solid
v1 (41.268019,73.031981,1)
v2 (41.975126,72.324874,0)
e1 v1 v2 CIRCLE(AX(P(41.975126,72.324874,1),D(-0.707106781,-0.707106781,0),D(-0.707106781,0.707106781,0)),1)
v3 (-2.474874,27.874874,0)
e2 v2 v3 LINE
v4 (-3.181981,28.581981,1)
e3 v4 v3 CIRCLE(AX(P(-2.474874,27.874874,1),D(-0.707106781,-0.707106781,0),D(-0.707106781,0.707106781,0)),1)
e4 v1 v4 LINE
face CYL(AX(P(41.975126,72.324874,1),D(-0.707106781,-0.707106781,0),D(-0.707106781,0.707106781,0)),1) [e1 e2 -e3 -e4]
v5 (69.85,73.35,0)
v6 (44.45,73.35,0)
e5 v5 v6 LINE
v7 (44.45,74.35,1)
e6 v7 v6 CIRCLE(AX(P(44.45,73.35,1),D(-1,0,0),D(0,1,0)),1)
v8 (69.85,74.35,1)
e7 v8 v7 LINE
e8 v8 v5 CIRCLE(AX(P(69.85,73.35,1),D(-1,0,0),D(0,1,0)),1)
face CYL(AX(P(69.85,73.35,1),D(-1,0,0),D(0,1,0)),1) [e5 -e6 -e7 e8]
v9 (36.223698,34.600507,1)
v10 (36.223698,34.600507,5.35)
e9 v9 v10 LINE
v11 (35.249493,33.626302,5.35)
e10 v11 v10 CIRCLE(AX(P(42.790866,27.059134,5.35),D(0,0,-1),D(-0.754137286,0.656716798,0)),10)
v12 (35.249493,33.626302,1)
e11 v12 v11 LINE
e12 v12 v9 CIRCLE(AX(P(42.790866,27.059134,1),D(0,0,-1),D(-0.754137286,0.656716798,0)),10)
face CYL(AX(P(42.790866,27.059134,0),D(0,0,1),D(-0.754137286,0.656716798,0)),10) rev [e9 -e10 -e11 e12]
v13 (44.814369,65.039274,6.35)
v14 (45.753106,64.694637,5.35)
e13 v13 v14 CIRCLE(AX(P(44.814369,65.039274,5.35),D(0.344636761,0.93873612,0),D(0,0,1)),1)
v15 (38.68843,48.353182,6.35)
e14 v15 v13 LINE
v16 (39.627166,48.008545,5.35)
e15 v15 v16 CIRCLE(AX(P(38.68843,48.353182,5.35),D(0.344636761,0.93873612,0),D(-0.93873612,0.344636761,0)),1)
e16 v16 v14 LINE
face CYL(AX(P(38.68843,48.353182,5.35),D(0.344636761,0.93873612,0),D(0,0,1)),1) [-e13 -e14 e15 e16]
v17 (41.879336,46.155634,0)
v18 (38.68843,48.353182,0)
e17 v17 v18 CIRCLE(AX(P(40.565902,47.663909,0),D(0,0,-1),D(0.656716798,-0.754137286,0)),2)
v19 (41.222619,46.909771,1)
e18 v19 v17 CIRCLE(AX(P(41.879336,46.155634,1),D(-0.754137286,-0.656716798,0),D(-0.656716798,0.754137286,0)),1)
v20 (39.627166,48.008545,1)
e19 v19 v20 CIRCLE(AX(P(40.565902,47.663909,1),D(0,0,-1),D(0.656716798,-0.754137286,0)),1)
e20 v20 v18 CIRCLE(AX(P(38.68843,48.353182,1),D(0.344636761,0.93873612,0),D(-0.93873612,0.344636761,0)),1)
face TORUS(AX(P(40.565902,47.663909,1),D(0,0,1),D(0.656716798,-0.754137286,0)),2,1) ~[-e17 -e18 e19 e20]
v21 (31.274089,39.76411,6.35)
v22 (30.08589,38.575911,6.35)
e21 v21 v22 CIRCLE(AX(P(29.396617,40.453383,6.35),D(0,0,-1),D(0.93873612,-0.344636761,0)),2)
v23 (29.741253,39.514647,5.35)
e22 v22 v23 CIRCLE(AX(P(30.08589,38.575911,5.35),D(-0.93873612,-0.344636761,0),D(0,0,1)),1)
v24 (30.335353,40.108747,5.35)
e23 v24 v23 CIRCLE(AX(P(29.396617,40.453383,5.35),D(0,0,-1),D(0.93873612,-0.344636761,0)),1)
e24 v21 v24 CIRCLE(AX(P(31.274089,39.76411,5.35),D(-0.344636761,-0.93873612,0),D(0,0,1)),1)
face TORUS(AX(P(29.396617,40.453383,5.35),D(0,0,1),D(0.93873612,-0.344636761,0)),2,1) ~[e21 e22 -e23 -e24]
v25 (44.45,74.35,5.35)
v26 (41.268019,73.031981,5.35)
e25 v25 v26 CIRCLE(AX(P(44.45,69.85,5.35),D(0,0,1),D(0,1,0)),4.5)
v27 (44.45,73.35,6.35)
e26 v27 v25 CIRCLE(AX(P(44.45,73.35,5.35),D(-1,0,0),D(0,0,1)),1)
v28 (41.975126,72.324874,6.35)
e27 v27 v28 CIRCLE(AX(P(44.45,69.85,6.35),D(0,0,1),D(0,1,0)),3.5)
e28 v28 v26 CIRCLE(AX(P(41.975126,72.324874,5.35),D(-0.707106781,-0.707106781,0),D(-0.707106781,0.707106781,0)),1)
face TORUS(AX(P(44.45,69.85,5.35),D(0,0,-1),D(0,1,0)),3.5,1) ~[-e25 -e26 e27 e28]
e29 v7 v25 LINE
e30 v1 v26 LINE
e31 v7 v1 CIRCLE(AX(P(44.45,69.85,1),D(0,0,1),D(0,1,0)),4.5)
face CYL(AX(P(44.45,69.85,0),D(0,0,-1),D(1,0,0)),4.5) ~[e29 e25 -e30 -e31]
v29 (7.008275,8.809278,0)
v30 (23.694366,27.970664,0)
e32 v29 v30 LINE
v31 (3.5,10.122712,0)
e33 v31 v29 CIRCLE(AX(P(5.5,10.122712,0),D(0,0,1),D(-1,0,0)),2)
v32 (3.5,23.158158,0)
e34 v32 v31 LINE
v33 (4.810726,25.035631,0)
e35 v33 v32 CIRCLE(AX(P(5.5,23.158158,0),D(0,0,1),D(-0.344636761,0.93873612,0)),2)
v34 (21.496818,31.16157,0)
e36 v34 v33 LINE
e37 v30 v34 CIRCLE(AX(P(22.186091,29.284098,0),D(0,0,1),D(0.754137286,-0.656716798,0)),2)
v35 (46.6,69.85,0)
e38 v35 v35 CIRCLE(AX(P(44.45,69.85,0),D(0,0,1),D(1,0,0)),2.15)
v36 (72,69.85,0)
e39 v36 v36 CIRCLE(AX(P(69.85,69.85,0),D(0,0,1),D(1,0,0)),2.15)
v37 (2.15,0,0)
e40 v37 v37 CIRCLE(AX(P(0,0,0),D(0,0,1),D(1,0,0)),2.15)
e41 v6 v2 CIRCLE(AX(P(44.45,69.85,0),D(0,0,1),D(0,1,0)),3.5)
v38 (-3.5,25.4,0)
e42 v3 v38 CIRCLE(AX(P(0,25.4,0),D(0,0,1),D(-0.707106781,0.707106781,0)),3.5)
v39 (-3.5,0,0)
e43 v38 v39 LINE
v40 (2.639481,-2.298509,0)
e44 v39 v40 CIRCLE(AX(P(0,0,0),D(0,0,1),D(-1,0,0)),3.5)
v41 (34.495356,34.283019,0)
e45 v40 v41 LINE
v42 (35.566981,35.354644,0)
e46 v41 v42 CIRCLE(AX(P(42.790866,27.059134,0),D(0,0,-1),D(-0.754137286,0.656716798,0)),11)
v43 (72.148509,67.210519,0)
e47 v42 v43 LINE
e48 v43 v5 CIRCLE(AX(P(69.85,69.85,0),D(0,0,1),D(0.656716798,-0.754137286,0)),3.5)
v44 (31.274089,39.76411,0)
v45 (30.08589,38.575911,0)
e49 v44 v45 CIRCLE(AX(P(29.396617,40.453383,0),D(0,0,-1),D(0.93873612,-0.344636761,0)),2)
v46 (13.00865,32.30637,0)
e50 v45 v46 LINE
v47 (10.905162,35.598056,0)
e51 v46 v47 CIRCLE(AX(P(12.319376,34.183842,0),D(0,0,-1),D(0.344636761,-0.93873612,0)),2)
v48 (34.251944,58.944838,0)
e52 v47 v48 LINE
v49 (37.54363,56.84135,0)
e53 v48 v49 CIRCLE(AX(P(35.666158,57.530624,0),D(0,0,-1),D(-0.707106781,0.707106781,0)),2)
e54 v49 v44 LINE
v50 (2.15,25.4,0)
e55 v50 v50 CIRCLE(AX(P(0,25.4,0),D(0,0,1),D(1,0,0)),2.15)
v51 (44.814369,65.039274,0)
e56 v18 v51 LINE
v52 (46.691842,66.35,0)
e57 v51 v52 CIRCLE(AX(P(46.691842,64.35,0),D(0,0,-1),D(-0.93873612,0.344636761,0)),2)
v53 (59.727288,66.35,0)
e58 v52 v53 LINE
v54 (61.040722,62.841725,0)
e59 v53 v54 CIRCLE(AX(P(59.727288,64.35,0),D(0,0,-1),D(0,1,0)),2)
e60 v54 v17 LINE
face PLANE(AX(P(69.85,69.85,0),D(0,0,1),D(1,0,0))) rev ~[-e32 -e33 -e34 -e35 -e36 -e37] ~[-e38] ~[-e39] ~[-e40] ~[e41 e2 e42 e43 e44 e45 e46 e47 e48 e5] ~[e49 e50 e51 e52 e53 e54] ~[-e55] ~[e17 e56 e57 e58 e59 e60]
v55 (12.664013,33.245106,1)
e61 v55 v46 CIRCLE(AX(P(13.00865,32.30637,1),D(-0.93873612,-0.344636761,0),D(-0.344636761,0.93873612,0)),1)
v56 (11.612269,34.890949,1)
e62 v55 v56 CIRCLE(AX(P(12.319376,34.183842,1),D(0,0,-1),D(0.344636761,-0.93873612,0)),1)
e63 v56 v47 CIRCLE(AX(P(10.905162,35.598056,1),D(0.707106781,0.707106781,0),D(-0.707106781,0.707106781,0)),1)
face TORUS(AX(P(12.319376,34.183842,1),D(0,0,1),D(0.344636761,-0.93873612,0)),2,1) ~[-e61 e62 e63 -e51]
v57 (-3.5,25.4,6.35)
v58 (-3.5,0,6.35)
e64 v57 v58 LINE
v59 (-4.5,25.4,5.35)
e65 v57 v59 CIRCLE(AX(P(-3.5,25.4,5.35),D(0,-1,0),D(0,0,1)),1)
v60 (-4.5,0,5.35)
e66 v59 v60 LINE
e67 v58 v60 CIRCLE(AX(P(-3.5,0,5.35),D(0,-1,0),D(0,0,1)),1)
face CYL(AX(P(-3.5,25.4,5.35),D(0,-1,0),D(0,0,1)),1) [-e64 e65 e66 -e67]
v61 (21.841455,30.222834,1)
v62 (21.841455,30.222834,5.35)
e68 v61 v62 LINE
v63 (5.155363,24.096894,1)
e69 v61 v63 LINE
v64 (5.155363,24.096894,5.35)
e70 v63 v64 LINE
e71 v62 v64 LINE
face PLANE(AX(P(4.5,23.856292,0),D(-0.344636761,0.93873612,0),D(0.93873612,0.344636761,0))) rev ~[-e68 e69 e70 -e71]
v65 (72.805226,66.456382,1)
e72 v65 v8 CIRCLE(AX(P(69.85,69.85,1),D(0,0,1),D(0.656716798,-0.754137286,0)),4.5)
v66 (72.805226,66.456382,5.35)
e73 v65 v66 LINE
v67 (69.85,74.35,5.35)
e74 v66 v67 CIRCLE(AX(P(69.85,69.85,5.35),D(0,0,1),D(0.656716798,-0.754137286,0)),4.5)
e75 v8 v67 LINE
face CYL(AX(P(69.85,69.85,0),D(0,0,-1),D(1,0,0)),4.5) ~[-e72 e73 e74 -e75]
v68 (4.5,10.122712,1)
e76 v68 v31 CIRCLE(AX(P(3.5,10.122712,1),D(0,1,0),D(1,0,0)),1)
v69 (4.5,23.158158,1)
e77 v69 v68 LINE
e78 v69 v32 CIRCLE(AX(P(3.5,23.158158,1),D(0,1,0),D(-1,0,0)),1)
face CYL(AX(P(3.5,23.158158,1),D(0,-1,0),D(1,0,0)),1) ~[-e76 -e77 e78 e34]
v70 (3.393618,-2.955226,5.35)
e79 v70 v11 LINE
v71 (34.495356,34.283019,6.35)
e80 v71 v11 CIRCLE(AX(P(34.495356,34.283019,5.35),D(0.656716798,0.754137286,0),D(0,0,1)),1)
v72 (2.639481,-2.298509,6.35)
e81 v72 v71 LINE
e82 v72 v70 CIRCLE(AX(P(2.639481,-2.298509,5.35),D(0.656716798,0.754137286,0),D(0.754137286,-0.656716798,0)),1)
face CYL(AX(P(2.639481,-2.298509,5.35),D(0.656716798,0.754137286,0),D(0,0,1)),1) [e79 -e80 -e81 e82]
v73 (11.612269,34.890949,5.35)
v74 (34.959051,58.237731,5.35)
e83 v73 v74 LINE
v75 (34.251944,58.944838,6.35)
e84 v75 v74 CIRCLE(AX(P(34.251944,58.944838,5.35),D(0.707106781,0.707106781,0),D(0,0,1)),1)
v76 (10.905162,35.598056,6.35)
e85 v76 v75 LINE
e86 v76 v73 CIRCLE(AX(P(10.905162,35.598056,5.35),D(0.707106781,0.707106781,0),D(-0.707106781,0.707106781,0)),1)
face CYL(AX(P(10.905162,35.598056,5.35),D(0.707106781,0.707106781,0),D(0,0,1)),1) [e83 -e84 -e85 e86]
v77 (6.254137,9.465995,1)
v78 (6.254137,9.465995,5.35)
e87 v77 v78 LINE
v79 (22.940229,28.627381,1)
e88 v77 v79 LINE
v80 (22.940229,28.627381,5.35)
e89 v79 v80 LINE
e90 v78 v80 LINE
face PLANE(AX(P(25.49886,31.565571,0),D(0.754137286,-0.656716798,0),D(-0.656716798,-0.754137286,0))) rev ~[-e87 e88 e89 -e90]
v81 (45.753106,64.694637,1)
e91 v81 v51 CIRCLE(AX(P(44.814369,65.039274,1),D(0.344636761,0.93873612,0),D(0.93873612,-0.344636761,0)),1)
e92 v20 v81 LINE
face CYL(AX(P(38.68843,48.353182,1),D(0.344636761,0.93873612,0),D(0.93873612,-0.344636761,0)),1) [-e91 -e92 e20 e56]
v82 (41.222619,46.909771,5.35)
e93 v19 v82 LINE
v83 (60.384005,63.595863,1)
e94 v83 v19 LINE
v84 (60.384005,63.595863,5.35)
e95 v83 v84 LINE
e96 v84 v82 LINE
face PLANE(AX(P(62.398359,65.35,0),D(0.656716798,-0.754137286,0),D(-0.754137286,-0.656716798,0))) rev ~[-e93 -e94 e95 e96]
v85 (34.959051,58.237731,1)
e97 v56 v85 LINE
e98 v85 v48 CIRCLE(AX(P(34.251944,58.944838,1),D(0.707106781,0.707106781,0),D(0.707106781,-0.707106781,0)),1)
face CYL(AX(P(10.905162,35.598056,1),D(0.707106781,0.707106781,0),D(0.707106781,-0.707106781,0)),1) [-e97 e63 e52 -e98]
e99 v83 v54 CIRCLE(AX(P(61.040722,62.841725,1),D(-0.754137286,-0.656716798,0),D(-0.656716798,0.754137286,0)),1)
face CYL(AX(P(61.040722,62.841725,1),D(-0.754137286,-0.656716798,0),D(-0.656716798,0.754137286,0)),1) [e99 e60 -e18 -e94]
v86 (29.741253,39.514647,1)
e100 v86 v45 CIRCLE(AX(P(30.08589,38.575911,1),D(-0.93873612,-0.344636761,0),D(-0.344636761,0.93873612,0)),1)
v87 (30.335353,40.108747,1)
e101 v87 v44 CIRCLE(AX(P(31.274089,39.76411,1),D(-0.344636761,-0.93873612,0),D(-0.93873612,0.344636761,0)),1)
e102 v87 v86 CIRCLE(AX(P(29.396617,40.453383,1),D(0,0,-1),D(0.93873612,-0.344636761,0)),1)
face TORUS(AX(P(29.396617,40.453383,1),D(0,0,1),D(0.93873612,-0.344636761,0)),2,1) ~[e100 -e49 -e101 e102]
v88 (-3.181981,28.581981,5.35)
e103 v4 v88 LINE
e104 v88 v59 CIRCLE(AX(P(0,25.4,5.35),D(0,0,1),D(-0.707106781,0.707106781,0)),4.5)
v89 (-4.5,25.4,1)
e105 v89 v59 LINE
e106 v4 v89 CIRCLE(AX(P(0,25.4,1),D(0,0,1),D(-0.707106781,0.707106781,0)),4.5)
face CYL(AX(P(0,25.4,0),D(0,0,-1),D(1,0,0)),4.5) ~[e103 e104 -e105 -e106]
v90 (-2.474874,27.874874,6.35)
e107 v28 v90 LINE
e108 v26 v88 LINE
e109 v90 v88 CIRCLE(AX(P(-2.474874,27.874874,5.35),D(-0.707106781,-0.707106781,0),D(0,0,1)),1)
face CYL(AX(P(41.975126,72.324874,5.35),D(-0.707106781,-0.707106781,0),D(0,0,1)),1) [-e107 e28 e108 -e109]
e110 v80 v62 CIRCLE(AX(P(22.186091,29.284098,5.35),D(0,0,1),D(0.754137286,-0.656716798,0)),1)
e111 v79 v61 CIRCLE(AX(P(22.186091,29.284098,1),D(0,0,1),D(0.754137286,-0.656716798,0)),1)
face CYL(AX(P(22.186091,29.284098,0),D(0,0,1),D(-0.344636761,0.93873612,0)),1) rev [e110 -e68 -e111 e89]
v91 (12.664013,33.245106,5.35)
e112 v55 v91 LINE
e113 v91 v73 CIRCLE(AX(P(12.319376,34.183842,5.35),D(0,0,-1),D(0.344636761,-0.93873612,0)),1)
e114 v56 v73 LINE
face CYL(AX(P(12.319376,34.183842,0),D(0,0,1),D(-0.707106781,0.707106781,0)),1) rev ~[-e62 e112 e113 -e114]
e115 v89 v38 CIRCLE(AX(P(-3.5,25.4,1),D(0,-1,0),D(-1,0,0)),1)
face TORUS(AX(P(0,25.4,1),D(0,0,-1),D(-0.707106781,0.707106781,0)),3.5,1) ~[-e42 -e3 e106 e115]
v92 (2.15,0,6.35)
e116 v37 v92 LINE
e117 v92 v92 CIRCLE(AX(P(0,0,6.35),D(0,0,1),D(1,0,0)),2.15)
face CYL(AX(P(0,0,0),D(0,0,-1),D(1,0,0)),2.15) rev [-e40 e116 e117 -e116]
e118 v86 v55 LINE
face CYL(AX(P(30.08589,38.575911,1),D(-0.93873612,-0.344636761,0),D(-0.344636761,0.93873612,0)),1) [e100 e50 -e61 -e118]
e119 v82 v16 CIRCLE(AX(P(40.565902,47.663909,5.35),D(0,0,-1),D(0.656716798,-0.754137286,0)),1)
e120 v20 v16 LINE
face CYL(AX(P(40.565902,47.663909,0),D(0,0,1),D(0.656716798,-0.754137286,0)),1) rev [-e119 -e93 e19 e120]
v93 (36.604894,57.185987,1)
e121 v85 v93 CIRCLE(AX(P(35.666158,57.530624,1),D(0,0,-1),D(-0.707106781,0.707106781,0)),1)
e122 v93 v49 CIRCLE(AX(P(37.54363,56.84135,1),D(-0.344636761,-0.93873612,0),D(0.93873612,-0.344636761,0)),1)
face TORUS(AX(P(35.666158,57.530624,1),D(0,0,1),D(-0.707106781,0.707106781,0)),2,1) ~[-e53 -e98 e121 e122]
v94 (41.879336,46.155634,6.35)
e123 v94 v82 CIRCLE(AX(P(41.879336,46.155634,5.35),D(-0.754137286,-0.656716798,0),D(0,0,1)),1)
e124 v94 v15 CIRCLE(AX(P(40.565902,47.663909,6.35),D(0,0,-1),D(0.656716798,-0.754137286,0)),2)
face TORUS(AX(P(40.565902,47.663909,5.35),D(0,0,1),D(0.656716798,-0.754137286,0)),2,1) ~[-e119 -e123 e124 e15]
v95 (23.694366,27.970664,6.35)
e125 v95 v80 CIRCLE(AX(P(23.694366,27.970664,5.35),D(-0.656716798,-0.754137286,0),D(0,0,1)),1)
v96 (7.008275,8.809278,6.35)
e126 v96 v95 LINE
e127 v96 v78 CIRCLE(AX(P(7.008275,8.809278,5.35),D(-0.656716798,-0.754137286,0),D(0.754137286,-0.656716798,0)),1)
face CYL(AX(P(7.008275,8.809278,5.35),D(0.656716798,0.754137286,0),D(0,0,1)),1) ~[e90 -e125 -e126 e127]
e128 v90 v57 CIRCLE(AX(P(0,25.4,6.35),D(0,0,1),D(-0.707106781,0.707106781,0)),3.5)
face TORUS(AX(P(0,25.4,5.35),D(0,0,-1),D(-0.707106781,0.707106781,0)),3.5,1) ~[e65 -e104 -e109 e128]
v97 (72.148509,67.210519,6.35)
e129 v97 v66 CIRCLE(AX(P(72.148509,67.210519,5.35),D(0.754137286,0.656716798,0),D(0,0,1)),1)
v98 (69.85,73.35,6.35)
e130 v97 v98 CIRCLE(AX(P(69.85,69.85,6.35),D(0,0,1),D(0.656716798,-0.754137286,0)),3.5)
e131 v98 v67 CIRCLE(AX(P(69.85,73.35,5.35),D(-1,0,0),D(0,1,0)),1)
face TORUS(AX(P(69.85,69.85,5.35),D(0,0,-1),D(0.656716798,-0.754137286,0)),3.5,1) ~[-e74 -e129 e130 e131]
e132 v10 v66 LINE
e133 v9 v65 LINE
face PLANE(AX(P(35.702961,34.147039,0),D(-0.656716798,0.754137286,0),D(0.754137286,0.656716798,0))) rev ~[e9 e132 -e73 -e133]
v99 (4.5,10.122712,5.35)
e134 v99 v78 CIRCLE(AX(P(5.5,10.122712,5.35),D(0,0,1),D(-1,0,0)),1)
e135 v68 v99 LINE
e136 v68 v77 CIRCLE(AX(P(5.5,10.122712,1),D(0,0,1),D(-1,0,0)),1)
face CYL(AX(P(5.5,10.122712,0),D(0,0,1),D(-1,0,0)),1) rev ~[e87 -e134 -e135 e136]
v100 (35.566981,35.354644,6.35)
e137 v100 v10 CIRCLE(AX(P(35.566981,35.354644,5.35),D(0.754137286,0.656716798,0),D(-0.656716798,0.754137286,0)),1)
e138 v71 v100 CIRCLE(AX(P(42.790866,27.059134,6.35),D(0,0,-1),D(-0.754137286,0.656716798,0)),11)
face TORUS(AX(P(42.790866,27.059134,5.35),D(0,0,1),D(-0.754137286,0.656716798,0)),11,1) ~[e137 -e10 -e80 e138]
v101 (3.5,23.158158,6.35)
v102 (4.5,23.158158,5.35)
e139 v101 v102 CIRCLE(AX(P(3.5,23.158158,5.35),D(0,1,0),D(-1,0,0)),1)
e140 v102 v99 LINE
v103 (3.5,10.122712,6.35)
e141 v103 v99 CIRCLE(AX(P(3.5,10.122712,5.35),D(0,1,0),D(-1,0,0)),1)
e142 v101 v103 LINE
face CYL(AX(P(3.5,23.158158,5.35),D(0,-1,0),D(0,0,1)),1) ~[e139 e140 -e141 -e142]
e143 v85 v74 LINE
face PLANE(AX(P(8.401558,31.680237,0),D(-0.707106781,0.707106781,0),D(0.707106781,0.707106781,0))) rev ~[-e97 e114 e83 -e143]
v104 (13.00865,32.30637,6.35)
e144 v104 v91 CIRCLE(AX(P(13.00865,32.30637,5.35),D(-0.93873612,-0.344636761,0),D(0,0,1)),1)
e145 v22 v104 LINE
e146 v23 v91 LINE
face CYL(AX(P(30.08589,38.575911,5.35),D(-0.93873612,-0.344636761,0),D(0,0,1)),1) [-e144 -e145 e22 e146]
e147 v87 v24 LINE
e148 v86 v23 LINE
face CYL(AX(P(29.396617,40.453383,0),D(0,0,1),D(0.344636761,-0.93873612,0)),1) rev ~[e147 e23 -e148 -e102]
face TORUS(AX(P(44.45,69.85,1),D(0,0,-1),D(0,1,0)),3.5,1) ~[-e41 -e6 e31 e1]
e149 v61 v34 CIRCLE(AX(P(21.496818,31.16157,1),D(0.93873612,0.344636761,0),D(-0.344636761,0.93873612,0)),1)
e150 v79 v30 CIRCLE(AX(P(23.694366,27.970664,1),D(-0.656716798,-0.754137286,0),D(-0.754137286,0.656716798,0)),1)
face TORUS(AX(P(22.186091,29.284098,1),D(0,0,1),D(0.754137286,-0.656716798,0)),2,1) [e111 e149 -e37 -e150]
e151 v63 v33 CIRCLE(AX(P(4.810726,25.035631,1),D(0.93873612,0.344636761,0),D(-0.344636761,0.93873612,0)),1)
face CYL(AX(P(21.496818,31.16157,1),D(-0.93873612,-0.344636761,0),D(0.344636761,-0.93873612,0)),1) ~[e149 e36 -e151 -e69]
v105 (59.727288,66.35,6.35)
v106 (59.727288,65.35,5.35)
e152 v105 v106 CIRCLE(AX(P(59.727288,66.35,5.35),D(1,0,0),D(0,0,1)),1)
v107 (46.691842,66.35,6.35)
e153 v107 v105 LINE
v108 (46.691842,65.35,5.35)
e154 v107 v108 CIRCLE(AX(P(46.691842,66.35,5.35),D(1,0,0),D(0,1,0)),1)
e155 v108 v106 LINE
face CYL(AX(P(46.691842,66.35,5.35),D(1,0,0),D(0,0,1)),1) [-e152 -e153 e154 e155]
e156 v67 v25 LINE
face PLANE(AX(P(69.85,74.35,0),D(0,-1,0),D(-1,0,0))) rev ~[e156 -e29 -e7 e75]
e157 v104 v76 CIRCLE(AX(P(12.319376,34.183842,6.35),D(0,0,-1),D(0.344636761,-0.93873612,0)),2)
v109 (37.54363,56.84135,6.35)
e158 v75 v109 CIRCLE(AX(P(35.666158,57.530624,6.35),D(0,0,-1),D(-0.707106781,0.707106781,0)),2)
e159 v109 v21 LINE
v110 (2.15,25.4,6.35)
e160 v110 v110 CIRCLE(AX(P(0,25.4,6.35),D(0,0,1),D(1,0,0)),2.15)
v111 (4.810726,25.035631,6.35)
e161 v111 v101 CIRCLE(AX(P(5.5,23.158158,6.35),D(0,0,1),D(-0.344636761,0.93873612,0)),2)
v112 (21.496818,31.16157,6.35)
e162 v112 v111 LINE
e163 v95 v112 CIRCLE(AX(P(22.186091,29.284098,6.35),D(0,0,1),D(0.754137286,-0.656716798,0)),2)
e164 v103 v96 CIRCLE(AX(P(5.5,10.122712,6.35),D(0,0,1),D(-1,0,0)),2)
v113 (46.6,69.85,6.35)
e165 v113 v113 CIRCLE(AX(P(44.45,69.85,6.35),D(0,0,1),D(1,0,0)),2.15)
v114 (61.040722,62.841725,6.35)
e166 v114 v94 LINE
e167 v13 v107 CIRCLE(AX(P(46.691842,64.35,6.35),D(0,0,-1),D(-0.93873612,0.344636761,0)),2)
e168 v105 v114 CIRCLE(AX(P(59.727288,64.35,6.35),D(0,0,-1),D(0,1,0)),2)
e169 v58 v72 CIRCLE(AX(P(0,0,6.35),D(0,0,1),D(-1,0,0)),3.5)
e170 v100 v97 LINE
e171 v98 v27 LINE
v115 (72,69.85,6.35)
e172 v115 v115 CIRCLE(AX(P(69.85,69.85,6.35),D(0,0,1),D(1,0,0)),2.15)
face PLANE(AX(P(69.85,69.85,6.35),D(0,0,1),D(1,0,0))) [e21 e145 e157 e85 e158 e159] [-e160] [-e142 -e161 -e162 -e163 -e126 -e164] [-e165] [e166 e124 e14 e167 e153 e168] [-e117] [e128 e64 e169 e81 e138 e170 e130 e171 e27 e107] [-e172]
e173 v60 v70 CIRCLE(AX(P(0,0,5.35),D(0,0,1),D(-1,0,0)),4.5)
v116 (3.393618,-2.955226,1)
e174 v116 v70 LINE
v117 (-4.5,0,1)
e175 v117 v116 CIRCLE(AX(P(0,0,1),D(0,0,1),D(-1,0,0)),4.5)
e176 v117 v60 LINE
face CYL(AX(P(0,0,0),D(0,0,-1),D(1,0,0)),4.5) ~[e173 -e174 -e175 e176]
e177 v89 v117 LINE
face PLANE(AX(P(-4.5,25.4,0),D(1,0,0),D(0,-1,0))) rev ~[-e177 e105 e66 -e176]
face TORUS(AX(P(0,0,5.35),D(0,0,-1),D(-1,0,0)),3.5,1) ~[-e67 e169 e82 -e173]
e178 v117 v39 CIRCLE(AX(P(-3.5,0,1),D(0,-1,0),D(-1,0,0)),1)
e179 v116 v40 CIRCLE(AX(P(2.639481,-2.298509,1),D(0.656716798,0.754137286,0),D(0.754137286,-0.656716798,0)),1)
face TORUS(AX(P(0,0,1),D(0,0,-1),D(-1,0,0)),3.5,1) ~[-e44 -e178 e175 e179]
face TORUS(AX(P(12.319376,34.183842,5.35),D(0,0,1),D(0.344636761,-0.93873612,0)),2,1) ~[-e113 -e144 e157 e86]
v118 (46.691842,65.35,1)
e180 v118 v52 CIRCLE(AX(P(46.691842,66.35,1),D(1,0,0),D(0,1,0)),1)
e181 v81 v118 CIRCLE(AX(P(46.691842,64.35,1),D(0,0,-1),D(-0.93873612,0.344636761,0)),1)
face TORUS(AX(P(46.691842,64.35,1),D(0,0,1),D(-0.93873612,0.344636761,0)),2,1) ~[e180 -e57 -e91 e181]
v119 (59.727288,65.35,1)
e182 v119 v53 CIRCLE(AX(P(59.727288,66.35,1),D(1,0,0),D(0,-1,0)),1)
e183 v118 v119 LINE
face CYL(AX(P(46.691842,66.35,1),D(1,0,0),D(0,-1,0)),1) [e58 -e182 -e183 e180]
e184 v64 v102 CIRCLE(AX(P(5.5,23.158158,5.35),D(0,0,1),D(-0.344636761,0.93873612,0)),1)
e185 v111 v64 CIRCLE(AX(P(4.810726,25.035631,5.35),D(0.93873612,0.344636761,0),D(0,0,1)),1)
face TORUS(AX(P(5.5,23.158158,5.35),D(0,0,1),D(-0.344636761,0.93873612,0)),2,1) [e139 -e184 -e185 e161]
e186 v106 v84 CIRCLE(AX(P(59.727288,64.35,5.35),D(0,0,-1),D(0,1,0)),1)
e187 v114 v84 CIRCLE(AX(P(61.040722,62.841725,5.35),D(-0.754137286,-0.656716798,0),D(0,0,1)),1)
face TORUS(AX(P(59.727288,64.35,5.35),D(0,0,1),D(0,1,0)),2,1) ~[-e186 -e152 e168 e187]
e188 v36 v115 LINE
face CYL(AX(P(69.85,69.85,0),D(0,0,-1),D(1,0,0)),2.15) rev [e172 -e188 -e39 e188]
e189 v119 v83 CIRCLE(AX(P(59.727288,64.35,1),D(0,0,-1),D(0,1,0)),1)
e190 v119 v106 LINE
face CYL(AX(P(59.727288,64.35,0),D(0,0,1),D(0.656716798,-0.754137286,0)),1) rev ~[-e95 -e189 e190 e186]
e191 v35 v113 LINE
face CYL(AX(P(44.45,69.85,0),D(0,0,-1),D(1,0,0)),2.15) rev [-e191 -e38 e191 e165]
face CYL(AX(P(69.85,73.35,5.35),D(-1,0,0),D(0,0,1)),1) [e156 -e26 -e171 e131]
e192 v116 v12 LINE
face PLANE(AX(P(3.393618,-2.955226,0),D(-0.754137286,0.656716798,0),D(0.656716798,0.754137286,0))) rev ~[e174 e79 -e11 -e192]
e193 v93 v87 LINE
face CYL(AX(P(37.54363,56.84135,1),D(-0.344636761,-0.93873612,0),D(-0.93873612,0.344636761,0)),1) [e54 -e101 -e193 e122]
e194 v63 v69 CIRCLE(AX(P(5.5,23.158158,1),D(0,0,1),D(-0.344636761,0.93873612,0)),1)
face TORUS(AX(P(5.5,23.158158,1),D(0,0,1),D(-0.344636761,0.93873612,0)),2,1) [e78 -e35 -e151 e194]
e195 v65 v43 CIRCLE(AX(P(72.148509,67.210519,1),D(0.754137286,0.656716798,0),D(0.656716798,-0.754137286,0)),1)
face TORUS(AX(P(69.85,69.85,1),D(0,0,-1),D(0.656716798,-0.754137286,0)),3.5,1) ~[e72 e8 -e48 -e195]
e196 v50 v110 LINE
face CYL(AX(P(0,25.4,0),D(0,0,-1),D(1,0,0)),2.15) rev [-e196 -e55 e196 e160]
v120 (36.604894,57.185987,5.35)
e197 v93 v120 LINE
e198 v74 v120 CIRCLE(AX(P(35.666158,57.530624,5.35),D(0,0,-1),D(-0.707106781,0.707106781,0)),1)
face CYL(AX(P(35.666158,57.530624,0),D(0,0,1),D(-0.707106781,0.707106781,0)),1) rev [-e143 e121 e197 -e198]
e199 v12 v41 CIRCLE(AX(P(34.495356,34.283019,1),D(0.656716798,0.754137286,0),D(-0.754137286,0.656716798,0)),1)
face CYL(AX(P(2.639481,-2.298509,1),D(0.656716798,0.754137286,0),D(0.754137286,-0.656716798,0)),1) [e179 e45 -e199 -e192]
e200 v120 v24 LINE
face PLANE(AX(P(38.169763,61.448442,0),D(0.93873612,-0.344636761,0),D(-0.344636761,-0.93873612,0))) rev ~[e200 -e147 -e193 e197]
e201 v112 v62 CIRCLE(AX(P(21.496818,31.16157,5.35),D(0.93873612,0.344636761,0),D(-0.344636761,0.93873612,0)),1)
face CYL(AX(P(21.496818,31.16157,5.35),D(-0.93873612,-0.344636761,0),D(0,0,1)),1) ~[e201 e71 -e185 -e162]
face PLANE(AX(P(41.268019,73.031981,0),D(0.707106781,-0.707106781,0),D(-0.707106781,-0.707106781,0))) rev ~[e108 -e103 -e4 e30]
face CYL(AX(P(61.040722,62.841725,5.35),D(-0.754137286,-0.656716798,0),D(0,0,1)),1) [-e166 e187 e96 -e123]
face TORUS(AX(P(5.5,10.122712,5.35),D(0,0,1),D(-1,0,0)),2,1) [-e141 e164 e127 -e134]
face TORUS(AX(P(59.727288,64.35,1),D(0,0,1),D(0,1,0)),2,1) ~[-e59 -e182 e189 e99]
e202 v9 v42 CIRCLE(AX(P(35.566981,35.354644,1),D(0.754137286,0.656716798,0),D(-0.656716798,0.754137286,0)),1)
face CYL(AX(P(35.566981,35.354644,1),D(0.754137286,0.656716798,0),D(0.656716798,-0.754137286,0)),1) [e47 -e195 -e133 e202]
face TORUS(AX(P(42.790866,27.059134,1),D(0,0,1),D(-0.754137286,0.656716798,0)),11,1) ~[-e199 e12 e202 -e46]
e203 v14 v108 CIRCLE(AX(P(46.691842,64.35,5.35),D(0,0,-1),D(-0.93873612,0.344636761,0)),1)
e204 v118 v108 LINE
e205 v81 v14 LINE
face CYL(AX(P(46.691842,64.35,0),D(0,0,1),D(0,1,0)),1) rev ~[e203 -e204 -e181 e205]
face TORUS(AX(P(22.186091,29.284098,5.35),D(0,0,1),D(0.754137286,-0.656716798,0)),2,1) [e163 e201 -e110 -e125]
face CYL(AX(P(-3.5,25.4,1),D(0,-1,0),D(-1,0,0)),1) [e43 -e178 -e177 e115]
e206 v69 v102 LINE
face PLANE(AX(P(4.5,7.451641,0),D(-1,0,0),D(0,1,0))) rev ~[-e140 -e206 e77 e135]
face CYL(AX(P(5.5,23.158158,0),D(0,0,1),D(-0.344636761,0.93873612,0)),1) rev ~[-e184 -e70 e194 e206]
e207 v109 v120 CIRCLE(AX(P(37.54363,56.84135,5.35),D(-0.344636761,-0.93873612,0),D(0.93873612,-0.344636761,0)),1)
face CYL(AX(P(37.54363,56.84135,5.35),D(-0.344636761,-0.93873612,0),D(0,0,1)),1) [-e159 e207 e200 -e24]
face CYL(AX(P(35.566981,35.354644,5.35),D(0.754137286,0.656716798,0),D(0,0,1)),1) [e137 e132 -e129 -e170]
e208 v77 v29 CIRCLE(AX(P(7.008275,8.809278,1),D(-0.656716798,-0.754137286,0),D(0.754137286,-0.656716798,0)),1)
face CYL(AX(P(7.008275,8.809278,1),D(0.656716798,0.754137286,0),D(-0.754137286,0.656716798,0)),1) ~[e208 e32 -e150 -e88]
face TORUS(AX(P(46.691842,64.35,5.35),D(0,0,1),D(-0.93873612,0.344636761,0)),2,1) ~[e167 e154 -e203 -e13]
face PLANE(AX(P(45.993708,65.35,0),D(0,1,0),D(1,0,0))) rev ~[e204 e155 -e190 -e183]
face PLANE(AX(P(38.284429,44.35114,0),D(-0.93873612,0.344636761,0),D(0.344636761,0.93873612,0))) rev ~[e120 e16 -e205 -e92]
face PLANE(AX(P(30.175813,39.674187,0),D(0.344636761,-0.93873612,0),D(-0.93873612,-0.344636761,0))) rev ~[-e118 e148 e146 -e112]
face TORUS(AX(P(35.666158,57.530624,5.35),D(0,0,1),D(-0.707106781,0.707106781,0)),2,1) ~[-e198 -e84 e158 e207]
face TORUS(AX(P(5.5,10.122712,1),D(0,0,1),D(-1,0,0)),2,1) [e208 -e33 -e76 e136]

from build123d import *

# Parameters (mm, degrees)
SKETCH1_R           = 4.5
SKETCH1_R_2         = 2.15
BOSS_EXTRUDE1_DEPTH = 6.35
FILLET1_R           = 1
FILLET2_R           = 10
FILLET3_R           = 1


with BuildPart() as part:
    # Sketch1 → Boss-Extrude1 (new body)
    # profile 1 of 5: a face of its own
    with BuildSketch(Plane.XY):
        with BuildLine():
            ThreePointArc((4.5, 25.4), (0, 20.9), (-4.5, 25.4))
            Line((-4.5, 25.4), (-4.5, 0))
            ThreePointArc((-4.5, 0), (0, 4.5), (4.5, 0))
            ThreePointArc((4.5, 0), (4.214337436, -1.577770571), (3.393617788, -2.955225593))
            Line((3.393617788, -2.955225593), (35.702961005, 34.147038995))
            Line((35.702961005, 34.147038995), (72.805225593, 66.456382212))
            ThreePointArc((72.805225593, 66.456382212), (65.635662564, 68.272229429), (69.85, 74.35))
            Line((69.85, 74.35), (44.45, 74.35))
            ThreePointArc((44.45, 74.35), (47.631980515, 73.031980515), (48.95, 69.85))
            ThreePointArc((48.95, 69.85), (42.727924554, 65.692542104), (41.268019485, 73.031980515))
            Line((41.268019485, 73.031980515), (-3.181980515, 28.581980515))
            ThreePointArc((-3.181980515, 28.581980515), (1.722075446, 29.557457896), (4.5, 25.4))
        make_face()
        Polygon((4.5, 7.451640951), (4.5, 23.856291875), (25.498859745, 31.565571248), align=None, mode=Mode.SUBTRACT)
        Polygon((30.175813365, 39.674186635), (8.401557674, 31.68023733), (38.16976267, 61.448442326), align=None, mode=Mode.SUBTRACT)
        Polygon((38.284428752, 44.351140255), (45.993708125, 65.35), (62.398359049, 65.35), align=None, mode=Mode.SUBTRACT)
    # profile 2 of 5: a face of its own
    with BuildSketch(Plane.XY):
        Circle(SKETCH1_R)
        Circle(SKETCH1_R_2, mode=Mode.SUBTRACT)
    # profile 3 of 5: a face of its own
    with BuildSketch(Plane.XY):
        with Locations((0, 25.4)):
            Circle(SKETCH1_R)
        with Locations((0, 25.4)):
            Circle(SKETCH1_R_2, mode=Mode.SUBTRACT)
    # profile 4 of 5: a face of its own
    with BuildSketch(Plane.XY):
        with Locations((44.45, 69.85)):
            Circle(SKETCH1_R)
        with Locations((44.45, 69.85)):
            Circle(SKETCH1_R_2, mode=Mode.SUBTRACT)
    # profile 5 of 5: a face of its own
    with BuildSketch(Plane.XY):
        with Locations((69.85, 69.85)):
            Circle(SKETCH1_R)
        with Locations((69.85, 69.85)):
            Circle(SKETCH1_R_2, mode=Mode.SUBTRACT)
    extrude(amount=BOSS_EXTRUDE1_DEPTH)

    # Fillet1
    fillet1_edges = [part.edges().sort_by_distance(p)[0] for p in [
        (4.5, 23.856291875, 3.175),
        (4.5, 7.451640951, 3.175),
        (25.498859745, 31.565571248, 3.175),
        (8.401557674, 31.68023733, 3.175),
        (30.175813365, 39.674186635, 3.175),
        (38.16976267, 61.448442326, 3.175),
        (45.993708125, 65.35, 3.175),
        (38.284428752, 44.351140255, 3.175),
        (62.398359049, 65.35, 3.175),
    ]]
    fillet(fillet1_edges, radius=FILLET1_R)

    # Fillet2
    fillet2_edges = [part.edges().sort_by_distance(p)[0] for p in [
        (35.702961005, 34.147038995, 3.175),
    ]]
    fillet(fillet2_edges, radius=FILLET2_R)

    # Fillet3
    fillet3_edges = [part.edges().sort_by_distance(p)[0] for p in [
        (5.149384317, 9.186192659, 6.35),
        (4.68004977, 23.730593079, 0),
        (4.68004977, 23.730593079, 6.35),
        (-4.5, 12.7, 6.35),
        (35.71979839, 34.13020161, 0),
        (35.71979839, 34.13020161, 6.35),
        (-1.577770571, -4.214337436, 6.35),
        (19.321555564, 15.335538095, 6.35),
        (54.514461905, 50.528444436, 6.35),
        (74.064337436, 71.427770571, 6.35),
        (-4.157457896, 27.122075446, 0),
        (19.043019485, 50.806980515, 0),
        (42.727924554, 74.007457896, 0),
        (57.15, 74.35, 0),
        (74.064337436, 71.427770571, 0),
        (54.514461905, 50.528444436, 0),
        (19.321555564, 15.335538095, 0),
        (-1.577770571, -4.214337436, 0),
        (-4.5, 12.7, 0),
        (57.15, 74.35, 6.35),
        (42.727924554, 74.007457896, 6.35),
        (19.043019485, 50.806980515, 6.35),
        (-4.157457896, 27.122075446, 6.35),
        (50.803311958, 55.252816977, 0),
        (50.803311958, 55.252816977, 6.35),
        (53.209564824, 65.35, 0),
        (53.209564824, 65.35, 6.35),
        (42.690135952, 56.351591025, 0),
        (42.690135952, 56.351591025, 6.35),
        (21.202633056, 36.379876625, 0),
        (21.202633056, 36.379876625, 6.35),
        (33.470123375, 48.647366944, 0),
        (33.470123375, 48.647366944, 6.35),
        (23.285660172, 46.564339828, 0),
        (23.285660172, 46.564339828, 6.35),
        (14.597183023, 19.046688042, 0),
        (14.597183023, 19.046688042, 6.35),
        (13.498408975, 27.159864048, 0),
        (13.498408975, 27.159864048, 6.35),
        (4.5, 16.640435176, 0),
        (4.5, 16.640435176, 6.35),
        (60.663807341, 64.700615683, 0),
        (60.663807341, 64.700615683, 6.35),
        (39.998707708, 46.840324789, 0),
        (39.998707708, 46.840324789, 6.35),
        (46.119406921, 65.16995023, 0),
        (46.119406921, 65.16995023, 6.35),
        (30.103723379, 39.746276621, 0),
        (30.103723379, 39.746276621, 6.35),
        (36.204631828, 58.373266186, 0),
        (36.204631828, 58.373266186, 6.35),
        (11.476733814, 33.645368172, 0),
        (11.476733814, 33.645368172, 6.35),
        (23.009675211, 29.851292292, 0),
        (23.009675211, 29.851292292, 6.35),
        (5.149384317, 9.186192659, 0),
    ]]
    fillet(fillet3_edges, radius=FILLET3_R)


solid = part.part
